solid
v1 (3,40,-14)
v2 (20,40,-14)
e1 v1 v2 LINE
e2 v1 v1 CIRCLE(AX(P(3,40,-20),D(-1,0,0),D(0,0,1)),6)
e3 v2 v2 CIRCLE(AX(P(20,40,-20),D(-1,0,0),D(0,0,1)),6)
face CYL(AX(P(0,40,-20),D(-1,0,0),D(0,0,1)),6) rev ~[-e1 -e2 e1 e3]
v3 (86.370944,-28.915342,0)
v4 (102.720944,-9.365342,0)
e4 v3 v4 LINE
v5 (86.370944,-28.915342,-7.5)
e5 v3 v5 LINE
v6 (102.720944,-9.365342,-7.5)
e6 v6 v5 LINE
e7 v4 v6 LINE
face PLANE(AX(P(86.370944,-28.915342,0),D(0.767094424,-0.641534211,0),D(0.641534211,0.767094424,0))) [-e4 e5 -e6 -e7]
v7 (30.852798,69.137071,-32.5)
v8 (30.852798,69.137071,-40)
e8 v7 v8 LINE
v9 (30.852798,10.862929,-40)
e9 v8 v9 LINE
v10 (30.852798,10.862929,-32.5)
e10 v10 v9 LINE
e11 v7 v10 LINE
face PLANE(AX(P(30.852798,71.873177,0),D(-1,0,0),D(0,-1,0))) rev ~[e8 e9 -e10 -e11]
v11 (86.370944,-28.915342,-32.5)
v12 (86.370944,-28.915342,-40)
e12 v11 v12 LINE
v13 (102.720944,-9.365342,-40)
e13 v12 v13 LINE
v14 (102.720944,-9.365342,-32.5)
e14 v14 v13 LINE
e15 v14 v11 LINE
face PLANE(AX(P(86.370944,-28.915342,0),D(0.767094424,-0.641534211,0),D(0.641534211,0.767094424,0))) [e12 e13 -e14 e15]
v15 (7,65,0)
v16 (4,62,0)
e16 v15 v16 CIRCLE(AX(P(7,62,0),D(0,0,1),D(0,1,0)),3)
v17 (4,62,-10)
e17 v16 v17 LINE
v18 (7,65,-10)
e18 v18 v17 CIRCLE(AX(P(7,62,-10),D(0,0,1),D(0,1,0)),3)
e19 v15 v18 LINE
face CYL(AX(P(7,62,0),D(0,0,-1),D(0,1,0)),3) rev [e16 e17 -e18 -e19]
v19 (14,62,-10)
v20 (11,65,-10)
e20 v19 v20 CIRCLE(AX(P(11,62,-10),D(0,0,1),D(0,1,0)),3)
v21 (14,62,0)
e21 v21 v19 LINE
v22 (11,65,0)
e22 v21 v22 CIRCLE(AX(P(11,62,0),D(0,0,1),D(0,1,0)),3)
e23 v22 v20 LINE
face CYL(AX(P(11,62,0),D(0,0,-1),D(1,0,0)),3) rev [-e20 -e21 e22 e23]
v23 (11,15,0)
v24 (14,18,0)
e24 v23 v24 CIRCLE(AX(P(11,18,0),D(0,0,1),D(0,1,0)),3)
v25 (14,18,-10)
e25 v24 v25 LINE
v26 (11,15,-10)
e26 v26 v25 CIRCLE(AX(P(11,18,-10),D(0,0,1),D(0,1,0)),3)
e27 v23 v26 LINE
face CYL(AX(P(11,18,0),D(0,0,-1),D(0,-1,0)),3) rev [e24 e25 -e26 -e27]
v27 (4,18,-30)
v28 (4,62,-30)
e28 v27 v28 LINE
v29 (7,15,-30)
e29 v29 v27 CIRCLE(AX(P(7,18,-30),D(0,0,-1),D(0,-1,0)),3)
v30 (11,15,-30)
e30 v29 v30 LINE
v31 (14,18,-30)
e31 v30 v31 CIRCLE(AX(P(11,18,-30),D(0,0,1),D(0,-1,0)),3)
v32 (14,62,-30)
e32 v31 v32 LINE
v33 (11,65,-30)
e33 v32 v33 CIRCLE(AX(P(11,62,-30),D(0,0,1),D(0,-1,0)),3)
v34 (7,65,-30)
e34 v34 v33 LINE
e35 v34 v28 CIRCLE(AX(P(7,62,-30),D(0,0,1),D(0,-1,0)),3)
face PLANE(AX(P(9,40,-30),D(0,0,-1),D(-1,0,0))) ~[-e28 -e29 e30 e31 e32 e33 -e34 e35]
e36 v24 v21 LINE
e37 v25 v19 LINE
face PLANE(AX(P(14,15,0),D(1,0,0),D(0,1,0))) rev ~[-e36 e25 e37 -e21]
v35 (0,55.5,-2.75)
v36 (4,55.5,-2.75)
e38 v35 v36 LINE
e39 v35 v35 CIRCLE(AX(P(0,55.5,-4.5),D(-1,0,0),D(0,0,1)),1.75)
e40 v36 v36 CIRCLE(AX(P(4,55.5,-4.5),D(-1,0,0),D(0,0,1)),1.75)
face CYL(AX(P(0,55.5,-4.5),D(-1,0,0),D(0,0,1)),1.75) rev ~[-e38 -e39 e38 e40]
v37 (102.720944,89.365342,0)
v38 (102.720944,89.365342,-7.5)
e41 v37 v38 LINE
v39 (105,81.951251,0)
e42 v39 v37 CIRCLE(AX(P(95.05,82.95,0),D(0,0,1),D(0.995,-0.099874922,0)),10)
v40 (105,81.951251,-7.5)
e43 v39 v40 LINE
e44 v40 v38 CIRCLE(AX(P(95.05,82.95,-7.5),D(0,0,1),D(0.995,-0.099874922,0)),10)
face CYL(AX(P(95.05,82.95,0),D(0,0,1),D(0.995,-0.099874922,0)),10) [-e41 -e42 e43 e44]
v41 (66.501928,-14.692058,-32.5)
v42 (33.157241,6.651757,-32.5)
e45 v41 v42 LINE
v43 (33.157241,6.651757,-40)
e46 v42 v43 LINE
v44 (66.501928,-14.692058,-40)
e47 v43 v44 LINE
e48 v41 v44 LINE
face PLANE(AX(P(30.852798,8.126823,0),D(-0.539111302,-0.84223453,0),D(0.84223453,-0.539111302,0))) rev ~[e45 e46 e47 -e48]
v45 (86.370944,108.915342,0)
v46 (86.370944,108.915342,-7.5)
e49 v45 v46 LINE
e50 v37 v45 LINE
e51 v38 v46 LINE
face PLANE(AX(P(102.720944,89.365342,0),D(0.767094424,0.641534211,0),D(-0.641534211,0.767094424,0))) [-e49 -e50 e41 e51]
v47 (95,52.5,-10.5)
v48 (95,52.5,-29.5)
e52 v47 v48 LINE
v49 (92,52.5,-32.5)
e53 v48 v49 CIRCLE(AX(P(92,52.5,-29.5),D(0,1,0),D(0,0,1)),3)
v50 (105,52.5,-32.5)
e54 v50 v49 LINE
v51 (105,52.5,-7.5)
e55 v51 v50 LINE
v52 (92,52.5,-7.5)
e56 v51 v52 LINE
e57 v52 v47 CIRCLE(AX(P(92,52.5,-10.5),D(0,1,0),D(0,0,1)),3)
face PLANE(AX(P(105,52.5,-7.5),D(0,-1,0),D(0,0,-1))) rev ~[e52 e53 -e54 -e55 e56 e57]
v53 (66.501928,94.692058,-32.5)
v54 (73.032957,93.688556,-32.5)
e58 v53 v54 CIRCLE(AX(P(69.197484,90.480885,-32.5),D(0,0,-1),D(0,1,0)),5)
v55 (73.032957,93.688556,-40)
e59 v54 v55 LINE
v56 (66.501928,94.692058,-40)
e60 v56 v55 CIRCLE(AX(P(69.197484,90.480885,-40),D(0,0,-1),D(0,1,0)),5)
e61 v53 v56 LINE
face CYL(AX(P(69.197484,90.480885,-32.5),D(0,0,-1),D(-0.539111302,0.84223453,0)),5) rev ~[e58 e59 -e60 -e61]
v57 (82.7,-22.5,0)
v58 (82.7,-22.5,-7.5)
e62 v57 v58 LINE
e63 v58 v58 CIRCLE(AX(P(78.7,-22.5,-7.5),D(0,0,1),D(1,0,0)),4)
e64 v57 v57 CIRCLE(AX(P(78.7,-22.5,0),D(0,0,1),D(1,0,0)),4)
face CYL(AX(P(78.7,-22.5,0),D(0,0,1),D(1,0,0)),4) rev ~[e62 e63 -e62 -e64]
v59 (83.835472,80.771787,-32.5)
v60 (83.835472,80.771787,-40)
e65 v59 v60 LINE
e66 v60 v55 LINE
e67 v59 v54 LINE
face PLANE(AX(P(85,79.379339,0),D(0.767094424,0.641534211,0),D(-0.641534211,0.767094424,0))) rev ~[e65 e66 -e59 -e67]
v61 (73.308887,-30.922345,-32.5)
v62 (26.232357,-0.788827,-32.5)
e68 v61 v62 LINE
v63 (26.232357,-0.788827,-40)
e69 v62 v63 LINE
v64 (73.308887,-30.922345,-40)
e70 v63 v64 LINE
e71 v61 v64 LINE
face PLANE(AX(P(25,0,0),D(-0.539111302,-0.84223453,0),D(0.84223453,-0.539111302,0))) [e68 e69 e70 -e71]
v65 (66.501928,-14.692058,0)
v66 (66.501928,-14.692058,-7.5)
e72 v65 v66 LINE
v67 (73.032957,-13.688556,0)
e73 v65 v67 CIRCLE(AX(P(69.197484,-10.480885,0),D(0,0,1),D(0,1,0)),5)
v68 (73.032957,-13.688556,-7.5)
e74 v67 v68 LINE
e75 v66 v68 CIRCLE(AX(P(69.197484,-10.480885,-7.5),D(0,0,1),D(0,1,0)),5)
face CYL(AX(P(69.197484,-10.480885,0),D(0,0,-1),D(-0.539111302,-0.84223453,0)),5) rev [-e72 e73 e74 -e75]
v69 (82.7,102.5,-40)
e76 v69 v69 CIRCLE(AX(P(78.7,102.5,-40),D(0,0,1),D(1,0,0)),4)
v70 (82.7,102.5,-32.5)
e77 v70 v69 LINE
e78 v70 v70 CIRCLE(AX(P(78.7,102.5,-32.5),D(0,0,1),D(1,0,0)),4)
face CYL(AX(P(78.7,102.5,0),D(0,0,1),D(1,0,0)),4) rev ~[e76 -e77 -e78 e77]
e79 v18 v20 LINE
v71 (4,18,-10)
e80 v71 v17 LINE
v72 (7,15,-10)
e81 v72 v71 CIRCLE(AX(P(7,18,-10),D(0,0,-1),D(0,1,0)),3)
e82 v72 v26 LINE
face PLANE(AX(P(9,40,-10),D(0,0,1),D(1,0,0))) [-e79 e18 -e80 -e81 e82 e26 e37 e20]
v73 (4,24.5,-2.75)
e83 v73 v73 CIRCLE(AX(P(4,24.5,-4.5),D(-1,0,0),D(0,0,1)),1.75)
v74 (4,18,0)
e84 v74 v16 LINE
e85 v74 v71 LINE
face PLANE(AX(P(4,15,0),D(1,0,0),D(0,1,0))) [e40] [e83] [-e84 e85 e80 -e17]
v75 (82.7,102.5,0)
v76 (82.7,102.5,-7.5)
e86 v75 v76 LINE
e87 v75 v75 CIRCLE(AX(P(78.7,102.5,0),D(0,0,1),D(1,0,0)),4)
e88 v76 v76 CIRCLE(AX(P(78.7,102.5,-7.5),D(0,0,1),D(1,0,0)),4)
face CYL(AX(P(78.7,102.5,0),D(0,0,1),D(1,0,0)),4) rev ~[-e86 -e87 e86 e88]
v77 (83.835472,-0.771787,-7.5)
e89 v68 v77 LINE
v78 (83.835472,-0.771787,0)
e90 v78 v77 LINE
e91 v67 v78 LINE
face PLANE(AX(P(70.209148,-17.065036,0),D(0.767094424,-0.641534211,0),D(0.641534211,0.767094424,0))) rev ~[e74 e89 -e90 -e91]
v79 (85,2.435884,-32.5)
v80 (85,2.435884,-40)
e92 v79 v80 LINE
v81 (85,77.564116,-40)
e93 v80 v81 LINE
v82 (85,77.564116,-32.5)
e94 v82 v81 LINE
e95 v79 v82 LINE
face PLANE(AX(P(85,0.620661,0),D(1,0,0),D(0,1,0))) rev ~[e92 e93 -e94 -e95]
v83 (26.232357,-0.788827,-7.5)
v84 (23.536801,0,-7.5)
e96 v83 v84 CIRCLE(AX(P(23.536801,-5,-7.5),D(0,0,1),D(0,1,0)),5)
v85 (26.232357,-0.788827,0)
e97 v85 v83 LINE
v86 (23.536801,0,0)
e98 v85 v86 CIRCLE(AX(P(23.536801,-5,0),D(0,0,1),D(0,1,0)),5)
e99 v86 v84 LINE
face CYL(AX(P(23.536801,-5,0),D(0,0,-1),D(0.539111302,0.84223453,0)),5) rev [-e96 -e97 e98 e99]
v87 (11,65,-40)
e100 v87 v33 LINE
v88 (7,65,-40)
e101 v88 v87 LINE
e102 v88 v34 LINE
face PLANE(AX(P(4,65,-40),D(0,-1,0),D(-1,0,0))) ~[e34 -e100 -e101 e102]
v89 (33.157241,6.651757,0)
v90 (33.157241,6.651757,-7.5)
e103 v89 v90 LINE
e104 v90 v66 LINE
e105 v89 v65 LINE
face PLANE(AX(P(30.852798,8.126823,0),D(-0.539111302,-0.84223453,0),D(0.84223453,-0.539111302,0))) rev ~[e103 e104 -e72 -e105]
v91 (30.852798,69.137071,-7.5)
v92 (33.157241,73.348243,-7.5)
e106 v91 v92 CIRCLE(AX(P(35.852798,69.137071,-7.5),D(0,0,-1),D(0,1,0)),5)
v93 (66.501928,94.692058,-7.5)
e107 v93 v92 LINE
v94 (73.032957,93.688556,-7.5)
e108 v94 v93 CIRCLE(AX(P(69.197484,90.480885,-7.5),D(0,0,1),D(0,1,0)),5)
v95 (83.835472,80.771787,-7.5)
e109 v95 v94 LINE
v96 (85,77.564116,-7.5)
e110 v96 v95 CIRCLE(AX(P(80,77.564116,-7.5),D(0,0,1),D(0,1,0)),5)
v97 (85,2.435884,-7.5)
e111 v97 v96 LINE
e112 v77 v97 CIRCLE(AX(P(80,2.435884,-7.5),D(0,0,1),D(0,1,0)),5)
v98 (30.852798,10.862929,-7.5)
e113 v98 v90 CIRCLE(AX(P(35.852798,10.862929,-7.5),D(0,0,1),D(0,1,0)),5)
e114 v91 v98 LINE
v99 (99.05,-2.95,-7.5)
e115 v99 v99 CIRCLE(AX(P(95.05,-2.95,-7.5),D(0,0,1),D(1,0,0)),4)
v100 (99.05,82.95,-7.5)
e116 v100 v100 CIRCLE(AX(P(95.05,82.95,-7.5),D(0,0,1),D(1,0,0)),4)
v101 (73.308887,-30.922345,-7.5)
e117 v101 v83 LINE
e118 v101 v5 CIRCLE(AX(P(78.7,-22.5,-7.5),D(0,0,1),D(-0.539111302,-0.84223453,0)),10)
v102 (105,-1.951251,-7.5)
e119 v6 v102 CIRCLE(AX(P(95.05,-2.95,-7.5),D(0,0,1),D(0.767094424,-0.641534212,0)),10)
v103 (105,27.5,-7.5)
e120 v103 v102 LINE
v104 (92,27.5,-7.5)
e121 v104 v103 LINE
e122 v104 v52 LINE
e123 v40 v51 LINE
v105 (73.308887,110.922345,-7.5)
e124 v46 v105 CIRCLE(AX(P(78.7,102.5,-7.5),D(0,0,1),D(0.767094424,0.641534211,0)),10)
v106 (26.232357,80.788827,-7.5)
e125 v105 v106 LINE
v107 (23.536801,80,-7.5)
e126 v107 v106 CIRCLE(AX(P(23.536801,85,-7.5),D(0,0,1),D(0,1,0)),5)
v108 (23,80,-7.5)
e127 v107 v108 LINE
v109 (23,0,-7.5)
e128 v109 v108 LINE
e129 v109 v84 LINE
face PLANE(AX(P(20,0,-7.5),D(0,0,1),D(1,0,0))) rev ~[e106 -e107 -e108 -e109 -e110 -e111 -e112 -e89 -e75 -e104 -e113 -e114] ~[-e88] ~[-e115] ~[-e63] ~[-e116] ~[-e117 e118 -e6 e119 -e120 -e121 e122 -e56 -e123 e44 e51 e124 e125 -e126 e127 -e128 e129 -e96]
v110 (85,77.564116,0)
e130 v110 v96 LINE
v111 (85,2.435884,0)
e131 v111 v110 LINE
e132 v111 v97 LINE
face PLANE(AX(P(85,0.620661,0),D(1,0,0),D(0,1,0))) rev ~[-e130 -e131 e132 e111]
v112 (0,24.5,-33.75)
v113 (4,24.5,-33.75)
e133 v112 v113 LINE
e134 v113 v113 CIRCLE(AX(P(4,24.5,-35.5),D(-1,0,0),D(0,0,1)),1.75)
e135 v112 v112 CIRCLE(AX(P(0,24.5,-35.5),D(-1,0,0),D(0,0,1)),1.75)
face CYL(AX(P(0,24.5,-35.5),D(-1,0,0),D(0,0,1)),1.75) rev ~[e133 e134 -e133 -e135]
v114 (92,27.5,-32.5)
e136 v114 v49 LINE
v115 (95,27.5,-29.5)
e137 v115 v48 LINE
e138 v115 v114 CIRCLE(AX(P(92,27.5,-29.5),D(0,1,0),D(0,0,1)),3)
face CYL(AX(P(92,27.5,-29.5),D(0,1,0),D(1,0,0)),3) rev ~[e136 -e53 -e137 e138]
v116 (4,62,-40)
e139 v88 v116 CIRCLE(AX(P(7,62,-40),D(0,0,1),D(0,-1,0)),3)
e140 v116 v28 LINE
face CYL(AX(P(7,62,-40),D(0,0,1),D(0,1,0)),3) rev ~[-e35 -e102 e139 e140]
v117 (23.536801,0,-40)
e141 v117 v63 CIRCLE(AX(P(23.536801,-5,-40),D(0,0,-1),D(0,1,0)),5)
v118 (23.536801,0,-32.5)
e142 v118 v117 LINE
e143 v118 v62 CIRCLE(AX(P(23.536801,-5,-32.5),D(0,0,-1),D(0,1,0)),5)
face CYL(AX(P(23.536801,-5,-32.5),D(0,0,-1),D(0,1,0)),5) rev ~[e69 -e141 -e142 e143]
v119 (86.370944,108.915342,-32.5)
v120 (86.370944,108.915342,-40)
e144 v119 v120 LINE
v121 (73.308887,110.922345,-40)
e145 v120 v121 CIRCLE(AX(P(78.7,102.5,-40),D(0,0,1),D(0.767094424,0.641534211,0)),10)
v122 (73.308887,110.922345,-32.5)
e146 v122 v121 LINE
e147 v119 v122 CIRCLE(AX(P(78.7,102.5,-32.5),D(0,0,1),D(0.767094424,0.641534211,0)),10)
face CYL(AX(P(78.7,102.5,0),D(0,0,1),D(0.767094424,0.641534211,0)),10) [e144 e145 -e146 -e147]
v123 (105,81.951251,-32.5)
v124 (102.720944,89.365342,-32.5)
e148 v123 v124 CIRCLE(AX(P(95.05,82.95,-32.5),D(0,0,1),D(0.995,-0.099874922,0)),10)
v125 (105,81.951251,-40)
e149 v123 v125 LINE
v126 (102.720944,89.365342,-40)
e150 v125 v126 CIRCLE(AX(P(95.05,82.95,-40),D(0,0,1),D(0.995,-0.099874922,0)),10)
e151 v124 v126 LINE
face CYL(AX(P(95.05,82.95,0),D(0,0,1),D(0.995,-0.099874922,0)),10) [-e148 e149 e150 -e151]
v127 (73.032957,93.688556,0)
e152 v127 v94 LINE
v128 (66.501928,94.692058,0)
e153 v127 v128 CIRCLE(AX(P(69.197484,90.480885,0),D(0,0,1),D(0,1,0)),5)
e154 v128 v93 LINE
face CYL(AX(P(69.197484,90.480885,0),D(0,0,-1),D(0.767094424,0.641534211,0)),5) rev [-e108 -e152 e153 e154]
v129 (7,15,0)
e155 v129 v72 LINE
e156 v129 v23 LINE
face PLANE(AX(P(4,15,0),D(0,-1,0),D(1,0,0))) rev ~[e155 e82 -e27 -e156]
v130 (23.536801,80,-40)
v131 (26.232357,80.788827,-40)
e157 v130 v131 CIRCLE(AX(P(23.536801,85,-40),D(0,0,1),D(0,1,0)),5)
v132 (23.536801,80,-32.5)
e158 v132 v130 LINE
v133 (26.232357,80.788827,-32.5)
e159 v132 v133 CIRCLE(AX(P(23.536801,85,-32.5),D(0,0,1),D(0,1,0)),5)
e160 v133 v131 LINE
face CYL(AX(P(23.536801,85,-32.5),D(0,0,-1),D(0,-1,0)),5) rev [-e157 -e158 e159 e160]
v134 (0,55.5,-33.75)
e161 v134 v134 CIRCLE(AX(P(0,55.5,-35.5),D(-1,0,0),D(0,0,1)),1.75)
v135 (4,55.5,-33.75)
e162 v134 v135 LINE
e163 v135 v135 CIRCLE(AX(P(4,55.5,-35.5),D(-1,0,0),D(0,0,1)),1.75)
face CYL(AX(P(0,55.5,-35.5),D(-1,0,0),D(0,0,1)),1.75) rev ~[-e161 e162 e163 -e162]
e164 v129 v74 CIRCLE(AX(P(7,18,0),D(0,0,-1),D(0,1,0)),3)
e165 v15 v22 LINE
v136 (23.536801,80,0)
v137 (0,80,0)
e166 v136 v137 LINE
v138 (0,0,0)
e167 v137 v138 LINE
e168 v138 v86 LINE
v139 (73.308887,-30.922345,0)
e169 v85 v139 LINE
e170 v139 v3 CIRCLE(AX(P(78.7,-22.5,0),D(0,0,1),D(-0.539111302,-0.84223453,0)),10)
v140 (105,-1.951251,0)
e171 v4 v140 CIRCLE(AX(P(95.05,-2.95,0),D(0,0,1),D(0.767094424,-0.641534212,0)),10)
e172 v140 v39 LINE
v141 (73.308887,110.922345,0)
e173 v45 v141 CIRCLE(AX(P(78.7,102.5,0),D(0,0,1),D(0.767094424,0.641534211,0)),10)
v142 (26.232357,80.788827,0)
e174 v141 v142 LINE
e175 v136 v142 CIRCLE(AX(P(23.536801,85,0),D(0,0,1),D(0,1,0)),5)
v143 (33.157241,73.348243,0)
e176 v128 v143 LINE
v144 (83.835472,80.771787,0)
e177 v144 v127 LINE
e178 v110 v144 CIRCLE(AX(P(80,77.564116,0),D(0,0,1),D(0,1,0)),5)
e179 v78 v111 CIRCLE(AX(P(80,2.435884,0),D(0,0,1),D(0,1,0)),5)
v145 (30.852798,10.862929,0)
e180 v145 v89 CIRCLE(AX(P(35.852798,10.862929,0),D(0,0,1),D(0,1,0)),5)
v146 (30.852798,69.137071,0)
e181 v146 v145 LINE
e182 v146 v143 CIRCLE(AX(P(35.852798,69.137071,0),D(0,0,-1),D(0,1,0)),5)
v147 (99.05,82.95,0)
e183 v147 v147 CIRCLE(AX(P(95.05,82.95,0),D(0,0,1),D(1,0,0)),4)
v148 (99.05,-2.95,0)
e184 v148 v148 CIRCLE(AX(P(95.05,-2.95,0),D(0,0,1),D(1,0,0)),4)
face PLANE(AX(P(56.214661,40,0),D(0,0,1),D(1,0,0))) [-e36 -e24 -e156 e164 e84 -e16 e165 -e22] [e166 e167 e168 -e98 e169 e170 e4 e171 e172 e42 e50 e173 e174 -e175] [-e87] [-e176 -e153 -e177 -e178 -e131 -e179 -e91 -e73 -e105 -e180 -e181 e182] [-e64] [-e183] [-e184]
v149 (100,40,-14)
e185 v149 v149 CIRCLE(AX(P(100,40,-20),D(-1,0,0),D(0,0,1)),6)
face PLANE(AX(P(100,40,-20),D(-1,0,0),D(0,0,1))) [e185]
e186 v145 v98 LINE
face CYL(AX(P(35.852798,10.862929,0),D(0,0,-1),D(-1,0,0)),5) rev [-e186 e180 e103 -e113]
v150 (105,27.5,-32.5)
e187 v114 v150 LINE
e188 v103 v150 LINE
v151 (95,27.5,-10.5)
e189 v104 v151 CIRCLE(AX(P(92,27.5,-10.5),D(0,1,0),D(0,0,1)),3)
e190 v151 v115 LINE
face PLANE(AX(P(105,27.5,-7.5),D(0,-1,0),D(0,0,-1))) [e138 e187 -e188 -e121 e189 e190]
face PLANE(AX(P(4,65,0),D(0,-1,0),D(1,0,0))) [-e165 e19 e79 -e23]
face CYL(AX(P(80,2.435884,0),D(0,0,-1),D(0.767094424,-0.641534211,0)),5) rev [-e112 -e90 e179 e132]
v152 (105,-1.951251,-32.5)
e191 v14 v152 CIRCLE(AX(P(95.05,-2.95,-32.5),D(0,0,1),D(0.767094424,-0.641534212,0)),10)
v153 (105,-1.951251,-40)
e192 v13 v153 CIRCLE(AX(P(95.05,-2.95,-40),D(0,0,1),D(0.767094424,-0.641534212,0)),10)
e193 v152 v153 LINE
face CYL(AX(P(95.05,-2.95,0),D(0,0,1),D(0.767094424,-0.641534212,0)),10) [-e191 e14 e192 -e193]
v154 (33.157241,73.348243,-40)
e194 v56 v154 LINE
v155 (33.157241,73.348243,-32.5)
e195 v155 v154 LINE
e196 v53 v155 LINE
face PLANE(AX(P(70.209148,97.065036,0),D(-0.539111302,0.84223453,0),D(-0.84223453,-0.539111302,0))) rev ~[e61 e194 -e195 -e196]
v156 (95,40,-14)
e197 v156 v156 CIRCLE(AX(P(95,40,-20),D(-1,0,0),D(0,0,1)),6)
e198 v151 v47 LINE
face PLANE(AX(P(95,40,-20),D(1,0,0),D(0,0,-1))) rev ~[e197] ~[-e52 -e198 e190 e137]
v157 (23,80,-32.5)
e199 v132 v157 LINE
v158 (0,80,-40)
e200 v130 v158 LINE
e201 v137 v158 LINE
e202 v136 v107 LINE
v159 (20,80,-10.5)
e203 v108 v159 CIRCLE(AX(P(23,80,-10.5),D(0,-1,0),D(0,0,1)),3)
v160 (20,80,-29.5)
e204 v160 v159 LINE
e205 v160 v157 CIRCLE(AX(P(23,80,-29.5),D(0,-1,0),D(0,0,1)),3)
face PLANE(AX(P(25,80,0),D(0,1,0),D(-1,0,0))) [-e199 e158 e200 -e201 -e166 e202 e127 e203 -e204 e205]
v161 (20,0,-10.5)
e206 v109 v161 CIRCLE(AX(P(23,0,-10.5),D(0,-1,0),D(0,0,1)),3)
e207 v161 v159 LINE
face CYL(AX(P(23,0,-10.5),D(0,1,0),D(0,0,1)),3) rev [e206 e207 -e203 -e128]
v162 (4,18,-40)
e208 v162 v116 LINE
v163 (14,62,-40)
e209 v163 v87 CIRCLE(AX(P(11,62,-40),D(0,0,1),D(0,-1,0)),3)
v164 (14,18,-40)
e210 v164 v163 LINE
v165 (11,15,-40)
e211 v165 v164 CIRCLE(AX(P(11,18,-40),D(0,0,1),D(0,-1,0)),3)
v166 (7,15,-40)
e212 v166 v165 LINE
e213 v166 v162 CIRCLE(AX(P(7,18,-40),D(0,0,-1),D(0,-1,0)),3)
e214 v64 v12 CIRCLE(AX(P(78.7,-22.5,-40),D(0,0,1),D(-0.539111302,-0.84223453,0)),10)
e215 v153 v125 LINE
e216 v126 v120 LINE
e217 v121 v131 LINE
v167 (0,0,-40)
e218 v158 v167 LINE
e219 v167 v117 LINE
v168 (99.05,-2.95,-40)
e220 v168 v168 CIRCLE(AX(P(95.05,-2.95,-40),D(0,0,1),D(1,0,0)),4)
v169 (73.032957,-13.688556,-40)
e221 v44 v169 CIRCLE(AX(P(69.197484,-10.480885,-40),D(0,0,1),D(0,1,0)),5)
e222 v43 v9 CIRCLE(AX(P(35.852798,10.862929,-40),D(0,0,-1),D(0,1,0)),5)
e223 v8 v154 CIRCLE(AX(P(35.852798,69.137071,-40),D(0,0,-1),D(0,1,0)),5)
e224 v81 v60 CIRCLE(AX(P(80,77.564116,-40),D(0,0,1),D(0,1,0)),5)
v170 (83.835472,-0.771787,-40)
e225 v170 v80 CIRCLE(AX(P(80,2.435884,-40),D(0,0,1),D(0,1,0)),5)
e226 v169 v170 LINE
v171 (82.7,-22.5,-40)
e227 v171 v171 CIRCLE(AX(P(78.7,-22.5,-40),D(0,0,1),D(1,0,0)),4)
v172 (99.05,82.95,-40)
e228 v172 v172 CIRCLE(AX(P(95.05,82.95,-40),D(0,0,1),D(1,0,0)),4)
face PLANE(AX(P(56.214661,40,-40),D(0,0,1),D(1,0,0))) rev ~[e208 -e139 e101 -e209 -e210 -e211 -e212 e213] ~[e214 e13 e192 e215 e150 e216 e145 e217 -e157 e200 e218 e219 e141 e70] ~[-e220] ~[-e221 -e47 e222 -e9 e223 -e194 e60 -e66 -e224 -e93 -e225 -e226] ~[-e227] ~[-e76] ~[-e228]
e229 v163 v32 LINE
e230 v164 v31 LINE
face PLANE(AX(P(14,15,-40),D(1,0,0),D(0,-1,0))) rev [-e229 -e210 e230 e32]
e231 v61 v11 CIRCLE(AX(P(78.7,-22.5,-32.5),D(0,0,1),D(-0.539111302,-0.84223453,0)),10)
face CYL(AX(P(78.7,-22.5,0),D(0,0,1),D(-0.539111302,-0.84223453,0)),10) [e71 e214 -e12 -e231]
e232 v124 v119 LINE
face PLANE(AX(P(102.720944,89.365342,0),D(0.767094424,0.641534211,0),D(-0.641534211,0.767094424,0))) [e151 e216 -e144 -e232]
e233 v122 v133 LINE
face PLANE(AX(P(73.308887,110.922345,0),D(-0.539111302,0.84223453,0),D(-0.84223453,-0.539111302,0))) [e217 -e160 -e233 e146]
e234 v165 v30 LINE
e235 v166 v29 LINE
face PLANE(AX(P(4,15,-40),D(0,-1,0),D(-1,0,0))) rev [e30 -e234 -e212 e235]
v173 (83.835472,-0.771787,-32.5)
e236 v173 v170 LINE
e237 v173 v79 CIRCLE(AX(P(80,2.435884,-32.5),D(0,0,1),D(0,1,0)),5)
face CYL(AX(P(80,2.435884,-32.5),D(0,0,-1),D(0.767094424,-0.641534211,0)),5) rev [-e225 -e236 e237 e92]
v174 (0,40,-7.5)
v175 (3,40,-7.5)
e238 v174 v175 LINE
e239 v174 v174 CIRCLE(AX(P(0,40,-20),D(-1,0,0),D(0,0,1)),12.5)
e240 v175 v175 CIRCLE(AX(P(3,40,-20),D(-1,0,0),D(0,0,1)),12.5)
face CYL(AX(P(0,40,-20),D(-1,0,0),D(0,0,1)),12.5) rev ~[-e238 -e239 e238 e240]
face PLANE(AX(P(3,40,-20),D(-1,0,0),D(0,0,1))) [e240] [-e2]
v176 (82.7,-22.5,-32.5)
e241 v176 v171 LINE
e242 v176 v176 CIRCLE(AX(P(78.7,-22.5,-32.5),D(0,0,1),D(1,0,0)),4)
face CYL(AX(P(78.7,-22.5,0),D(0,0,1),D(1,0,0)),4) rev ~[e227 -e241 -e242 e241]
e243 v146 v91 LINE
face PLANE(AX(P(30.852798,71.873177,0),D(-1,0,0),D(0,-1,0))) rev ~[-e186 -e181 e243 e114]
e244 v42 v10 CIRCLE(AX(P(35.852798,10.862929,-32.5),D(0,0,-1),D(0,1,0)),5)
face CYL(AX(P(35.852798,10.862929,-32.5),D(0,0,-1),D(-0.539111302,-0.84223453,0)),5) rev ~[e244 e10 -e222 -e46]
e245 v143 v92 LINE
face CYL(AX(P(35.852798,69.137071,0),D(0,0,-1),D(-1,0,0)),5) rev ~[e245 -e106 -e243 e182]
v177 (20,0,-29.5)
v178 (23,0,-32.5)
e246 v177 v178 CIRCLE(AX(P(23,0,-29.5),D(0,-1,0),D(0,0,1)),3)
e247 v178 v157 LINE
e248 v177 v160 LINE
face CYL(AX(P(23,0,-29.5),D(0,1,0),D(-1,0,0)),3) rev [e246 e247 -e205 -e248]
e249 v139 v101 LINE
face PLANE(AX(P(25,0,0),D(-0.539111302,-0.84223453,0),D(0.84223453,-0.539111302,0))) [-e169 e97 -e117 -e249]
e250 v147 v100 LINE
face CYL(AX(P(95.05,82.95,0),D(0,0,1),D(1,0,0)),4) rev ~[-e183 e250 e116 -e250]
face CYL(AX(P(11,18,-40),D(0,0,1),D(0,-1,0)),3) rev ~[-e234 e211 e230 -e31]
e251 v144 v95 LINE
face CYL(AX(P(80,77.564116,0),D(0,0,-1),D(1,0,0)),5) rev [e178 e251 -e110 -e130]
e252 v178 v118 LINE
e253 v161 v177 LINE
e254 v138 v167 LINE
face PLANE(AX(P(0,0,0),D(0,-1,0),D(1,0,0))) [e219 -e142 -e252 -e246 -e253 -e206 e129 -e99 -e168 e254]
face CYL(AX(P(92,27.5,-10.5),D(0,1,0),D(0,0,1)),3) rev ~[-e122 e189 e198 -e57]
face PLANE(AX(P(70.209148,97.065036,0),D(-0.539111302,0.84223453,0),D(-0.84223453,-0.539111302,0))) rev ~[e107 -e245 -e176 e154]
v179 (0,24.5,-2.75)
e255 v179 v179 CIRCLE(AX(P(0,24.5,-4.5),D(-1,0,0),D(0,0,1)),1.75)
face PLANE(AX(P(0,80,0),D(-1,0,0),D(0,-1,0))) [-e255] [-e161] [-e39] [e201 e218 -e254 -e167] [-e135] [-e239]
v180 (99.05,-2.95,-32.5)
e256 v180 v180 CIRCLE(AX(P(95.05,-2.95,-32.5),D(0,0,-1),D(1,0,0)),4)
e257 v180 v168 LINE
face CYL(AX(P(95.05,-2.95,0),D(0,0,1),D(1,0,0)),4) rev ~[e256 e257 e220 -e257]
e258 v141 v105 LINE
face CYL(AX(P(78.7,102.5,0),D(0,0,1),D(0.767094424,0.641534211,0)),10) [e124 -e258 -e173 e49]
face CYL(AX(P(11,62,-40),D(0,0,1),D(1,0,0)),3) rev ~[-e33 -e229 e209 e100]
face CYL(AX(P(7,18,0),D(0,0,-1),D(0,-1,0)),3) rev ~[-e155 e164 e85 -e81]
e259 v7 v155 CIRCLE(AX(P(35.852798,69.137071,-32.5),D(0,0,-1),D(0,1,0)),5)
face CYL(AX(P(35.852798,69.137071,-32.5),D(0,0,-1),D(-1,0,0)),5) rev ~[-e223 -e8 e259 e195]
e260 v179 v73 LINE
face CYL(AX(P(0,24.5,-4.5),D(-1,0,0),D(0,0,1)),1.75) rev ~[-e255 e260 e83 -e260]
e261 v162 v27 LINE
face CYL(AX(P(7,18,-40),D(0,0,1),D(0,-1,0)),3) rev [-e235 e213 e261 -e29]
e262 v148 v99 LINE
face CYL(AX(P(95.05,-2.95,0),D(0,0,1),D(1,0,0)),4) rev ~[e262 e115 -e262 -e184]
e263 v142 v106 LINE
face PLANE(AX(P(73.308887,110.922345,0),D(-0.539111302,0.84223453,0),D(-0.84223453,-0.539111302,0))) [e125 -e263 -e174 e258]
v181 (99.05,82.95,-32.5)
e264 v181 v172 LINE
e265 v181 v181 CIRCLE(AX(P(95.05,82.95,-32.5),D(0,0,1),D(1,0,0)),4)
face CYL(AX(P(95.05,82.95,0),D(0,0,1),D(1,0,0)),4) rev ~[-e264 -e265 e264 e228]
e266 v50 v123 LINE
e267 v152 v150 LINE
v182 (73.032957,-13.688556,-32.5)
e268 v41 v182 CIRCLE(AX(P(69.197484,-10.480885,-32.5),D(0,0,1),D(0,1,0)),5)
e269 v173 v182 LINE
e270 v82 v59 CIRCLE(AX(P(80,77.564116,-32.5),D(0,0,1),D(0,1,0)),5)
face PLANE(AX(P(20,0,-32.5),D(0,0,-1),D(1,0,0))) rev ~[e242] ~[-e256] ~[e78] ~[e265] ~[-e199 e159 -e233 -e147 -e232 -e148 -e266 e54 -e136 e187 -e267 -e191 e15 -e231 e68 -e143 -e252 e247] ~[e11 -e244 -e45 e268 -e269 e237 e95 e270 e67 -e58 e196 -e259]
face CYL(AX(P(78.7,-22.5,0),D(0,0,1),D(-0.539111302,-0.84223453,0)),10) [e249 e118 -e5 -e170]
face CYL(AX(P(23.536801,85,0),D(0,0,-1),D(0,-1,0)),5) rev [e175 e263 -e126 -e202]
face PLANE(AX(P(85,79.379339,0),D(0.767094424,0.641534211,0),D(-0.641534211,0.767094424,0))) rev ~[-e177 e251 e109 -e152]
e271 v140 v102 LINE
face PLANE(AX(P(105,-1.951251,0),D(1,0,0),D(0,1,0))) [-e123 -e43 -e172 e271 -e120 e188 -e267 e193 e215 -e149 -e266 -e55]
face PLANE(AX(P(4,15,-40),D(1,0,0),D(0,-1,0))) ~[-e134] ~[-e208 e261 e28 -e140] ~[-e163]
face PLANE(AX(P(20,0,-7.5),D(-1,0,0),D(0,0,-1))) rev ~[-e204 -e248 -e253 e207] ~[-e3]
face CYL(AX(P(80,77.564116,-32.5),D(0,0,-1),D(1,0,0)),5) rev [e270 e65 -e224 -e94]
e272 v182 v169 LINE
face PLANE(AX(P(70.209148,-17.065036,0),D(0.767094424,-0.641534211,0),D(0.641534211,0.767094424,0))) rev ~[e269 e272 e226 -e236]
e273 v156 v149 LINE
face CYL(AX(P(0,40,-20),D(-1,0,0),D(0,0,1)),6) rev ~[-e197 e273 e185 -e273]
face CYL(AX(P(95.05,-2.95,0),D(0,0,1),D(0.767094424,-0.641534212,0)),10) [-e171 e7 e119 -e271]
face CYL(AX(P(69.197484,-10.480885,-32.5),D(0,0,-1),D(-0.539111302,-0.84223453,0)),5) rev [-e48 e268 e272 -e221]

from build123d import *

# Parameters (mm, degrees)
SKETCH1_R               = 4
BOSS_EXTRUDE1_DEPTH     = 40
SKETCH2_W               = 100
SKETCH2_H               = 25
CUT_EXTRUDE1_DEPTH      = 113.5
CUT_EXTRUDE1_DEPTH_BACK = 33.5
SKETCH3_W               = 25
SKETCH3_H               = 25
BOSS_EXTRUDE2_DEPTH     = 10
SKETCH4_R               = 6
CUT_EXTRUDE2_DEPTH      = 100
FILLET1_R               = 5
FILLET2_R               = 3
SKETCH5_R               = 1.75
CUT_EXTRUDE3_DEPTH      = 10
SKETCH7_W               = 10
SKETCH7_H               = 50
CUT_EXTRUDE4_DEPTH      = 10
FILLET3_R               = 3
FILLET3_OF_MIRROR1_R    = 3
SKETCH8_R               = 12.5
CUT_EXTRUDE5_DEPTH      = 3


with BuildPart() as part:
    # Sketch1 → Boss-Extrude1 (new body)
    with BuildSketch(Plane.XY):
        with BuildLine():
            Line((25, 0), (73.308886978, -30.922345302))
            ThreePointArc((73.308886978, -30.922345302), (80.218691228, -32.384006119), (86.370944241, -28.915342115))
            Line((86.370944241, -28.915342115), (102.720944241, -9.365342115))
            ThreePointArc((102.720944241, -9.365342115), (104.608588105, -5.888263678), (105, -1.951250782))
            Line((105, -1.951250782), (105, 0))
            Line((105, 0), (105, 80))
            Line((105, 80), (105, 81.951250782))
            ThreePointArc((105, 81.951250782), (104.608588105, 85.888263678), (102.720944241, 89.365342115))
            Line((102.720944241, 89.365342115), (86.370944241, 108.915342115))
            ThreePointArc((86.370944241, 108.915342115), (80.218691228, 112.384006119), (73.308886978, 110.922345302))
            Line((73.308886978, 110.922345302), (25, 80))
            Line((25, 80), (0, 80))
            Line((0, 80), (0, 0))
            Line((0, 0), (25, 0))
        make_face()
        with Locations((78.7, -22.5)):
            Circle(SKETCH1_R, mode=Mode.SUBTRACT)
        with Locations((95.05, -2.95)):
            Circle(SKETCH1_R, mode=Mode.SUBTRACT)
        with Locations((78.7, 102.5)):
            Circle(SKETCH1_R, mode=Mode.SUBTRACT)
        with Locations((95.05, 82.95)):
            Circle(SKETCH1_R, mode=Mode.SUBTRACT)
        Polygon((30.852797713, 71.873177413), (30.852797713, 8.126822587), (70.209148437, -17.065036365), (85, 0.620660764), (85, 79.379339236), (70.209148437, 97.065036365), align=None, mode=Mode.SUBTRACT)
    extrude(amount=-BOSS_EXTRUDE1_DEPTH)

    # Sketch2 → Cut-Extrude1 (cut, two sides)
    with BuildSketch(Plane(origin=(0, 0, 0), x_dir=(1, 0, 0), z_dir=(0, 1, 0))) as cut_extrude1_sk:
        with Locations((70, 20)):
            Rectangle(SKETCH2_W, SKETCH2_H)
    extrude(amount=CUT_EXTRUDE1_DEPTH, mode=Mode.SUBTRACT)
    extrude(cut_extrude1_sk.sketch, amount=-CUT_EXTRUDE1_DEPTH_BACK, mode=Mode.SUBTRACT)

    # Sketch3 → Boss-Extrude2 (add)
    with BuildSketch(Plane(origin=(105, 0, 0), x_dir=(0, 0, -1), z_dir=(1, 0, 0))):
        with Locations((20, 40)):
            Rectangle(SKETCH3_W, SKETCH3_H)
    extrude(amount=-BOSS_EXTRUDE2_DEPTH)

    # Sketch4 → Cut-Extrude2 (cut)
    with BuildSketch(Plane.ZY):
        with Locations((-20, 40)):
            Circle(SKETCH4_R)
    extrude(amount=-CUT_EXTRUDE2_DEPTH, mode=Mode.SUBTRACT)

    # Fillet1
    fillet1_edges = [part.edges().sort_by_distance(p)[0] for p in [
        (25, 80, -3.75),
        (25, 80, -36.25),
        (25, 0, -36.25),
        (85, 79.379339236, -36.25),
        (85, 0.620660764, -36.25),
        (70.209148437, -17.065036365, -36.25),
        (30.852797713, 8.126822587, -36.25),
        (30.852797713, 71.873177413, -36.25),
        (70.209148437, 97.065036365, -36.25),
        (70.209148437, 97.065036365, -3.75),
        (85, 79.379339236, -3.75),
        (30.852797713, 71.873177413, -3.75),
        (30.852797713, 8.126822587, -3.75),
        (70.209148437, -17.065036365, -3.75),
        (85, 0.620660764, -3.75),
        (25, 0, -3.75),
    ]]
    fillet(fillet1_edges, radius=FILLET1_R)

    # Fillet2
    fillet2_edges = [part.edges().sort_by_distance(p)[0] for p in [
        (20, 40, -32.5),
        (20, 40, -7.5),
        (95, 40, -32.5),
        (95, 40, -7.5),
    ]]
    fillet(fillet2_edges, radius=FILLET2_R)

    # Sketch5 → Cut-Extrude3 (cut)
    with BuildSketch(Plane.ZY):
        with Locations((-35.5, 55.5)):
            Circle(SKETCH5_R)
        with Locations((-4.5, 55.5)):
            Circle(SKETCH5_R)
        with Locations((-35.5, 24.5)):
            Circle(SKETCH5_R)
        with Locations((-4.5, 24.5)):
            Circle(SKETCH5_R)
    extrude(amount=-CUT_EXTRUDE3_DEPTH, mode=Mode.SUBTRACT)

    # Sketch7 → Cut-Extrude4 (cut)
    with BuildSketch(Plane.XY):
        with Locations((9, 40)):
            Rectangle(SKETCH7_W, SKETCH7_H)
    cut_extrude4 = extrude(amount=-CUT_EXTRUDE4_DEPTH, mode=Mode.SUBTRACT)

    # Fillet3
    fillet3_edges = [part.edges().sort_by_distance(p)[0] for p in [
        (4, 15, -5),
        (4, 65, -5),
        (14, 65, -5),
        (14, 15, -5),
    ]]
    fillet(fillet3_edges, radius=FILLET3_R)

    # Mirror1: Cut-Extrude4 across plane
    add(cut_extrude4.mirror(Plane.XY.offset(-20)), mode=Mode.SUBTRACT)

    # Fillet3 of Mirror1
    fillet3_of_mirror1_edges = [part.edges().sort_by_distance(p)[0] for p in [
        (4, 15, -35),
        (4, 65, -35),
        (14, 65, -35),
        (14, 15, -35),
    ]]
    fillet(fillet3_of_mirror1_edges, radius=FILLET3_OF_MIRROR1_R)

    # Sketch8 → Cut-Extrude5 (cut)
    with BuildSketch(Plane.ZY):
        with Locations((-20, 40)):
            Circle(SKETCH8_R)
    extrude(amount=-CUT_EXTRUDE5_DEPTH, mode=Mode.SUBTRACT)


solid = part.part
